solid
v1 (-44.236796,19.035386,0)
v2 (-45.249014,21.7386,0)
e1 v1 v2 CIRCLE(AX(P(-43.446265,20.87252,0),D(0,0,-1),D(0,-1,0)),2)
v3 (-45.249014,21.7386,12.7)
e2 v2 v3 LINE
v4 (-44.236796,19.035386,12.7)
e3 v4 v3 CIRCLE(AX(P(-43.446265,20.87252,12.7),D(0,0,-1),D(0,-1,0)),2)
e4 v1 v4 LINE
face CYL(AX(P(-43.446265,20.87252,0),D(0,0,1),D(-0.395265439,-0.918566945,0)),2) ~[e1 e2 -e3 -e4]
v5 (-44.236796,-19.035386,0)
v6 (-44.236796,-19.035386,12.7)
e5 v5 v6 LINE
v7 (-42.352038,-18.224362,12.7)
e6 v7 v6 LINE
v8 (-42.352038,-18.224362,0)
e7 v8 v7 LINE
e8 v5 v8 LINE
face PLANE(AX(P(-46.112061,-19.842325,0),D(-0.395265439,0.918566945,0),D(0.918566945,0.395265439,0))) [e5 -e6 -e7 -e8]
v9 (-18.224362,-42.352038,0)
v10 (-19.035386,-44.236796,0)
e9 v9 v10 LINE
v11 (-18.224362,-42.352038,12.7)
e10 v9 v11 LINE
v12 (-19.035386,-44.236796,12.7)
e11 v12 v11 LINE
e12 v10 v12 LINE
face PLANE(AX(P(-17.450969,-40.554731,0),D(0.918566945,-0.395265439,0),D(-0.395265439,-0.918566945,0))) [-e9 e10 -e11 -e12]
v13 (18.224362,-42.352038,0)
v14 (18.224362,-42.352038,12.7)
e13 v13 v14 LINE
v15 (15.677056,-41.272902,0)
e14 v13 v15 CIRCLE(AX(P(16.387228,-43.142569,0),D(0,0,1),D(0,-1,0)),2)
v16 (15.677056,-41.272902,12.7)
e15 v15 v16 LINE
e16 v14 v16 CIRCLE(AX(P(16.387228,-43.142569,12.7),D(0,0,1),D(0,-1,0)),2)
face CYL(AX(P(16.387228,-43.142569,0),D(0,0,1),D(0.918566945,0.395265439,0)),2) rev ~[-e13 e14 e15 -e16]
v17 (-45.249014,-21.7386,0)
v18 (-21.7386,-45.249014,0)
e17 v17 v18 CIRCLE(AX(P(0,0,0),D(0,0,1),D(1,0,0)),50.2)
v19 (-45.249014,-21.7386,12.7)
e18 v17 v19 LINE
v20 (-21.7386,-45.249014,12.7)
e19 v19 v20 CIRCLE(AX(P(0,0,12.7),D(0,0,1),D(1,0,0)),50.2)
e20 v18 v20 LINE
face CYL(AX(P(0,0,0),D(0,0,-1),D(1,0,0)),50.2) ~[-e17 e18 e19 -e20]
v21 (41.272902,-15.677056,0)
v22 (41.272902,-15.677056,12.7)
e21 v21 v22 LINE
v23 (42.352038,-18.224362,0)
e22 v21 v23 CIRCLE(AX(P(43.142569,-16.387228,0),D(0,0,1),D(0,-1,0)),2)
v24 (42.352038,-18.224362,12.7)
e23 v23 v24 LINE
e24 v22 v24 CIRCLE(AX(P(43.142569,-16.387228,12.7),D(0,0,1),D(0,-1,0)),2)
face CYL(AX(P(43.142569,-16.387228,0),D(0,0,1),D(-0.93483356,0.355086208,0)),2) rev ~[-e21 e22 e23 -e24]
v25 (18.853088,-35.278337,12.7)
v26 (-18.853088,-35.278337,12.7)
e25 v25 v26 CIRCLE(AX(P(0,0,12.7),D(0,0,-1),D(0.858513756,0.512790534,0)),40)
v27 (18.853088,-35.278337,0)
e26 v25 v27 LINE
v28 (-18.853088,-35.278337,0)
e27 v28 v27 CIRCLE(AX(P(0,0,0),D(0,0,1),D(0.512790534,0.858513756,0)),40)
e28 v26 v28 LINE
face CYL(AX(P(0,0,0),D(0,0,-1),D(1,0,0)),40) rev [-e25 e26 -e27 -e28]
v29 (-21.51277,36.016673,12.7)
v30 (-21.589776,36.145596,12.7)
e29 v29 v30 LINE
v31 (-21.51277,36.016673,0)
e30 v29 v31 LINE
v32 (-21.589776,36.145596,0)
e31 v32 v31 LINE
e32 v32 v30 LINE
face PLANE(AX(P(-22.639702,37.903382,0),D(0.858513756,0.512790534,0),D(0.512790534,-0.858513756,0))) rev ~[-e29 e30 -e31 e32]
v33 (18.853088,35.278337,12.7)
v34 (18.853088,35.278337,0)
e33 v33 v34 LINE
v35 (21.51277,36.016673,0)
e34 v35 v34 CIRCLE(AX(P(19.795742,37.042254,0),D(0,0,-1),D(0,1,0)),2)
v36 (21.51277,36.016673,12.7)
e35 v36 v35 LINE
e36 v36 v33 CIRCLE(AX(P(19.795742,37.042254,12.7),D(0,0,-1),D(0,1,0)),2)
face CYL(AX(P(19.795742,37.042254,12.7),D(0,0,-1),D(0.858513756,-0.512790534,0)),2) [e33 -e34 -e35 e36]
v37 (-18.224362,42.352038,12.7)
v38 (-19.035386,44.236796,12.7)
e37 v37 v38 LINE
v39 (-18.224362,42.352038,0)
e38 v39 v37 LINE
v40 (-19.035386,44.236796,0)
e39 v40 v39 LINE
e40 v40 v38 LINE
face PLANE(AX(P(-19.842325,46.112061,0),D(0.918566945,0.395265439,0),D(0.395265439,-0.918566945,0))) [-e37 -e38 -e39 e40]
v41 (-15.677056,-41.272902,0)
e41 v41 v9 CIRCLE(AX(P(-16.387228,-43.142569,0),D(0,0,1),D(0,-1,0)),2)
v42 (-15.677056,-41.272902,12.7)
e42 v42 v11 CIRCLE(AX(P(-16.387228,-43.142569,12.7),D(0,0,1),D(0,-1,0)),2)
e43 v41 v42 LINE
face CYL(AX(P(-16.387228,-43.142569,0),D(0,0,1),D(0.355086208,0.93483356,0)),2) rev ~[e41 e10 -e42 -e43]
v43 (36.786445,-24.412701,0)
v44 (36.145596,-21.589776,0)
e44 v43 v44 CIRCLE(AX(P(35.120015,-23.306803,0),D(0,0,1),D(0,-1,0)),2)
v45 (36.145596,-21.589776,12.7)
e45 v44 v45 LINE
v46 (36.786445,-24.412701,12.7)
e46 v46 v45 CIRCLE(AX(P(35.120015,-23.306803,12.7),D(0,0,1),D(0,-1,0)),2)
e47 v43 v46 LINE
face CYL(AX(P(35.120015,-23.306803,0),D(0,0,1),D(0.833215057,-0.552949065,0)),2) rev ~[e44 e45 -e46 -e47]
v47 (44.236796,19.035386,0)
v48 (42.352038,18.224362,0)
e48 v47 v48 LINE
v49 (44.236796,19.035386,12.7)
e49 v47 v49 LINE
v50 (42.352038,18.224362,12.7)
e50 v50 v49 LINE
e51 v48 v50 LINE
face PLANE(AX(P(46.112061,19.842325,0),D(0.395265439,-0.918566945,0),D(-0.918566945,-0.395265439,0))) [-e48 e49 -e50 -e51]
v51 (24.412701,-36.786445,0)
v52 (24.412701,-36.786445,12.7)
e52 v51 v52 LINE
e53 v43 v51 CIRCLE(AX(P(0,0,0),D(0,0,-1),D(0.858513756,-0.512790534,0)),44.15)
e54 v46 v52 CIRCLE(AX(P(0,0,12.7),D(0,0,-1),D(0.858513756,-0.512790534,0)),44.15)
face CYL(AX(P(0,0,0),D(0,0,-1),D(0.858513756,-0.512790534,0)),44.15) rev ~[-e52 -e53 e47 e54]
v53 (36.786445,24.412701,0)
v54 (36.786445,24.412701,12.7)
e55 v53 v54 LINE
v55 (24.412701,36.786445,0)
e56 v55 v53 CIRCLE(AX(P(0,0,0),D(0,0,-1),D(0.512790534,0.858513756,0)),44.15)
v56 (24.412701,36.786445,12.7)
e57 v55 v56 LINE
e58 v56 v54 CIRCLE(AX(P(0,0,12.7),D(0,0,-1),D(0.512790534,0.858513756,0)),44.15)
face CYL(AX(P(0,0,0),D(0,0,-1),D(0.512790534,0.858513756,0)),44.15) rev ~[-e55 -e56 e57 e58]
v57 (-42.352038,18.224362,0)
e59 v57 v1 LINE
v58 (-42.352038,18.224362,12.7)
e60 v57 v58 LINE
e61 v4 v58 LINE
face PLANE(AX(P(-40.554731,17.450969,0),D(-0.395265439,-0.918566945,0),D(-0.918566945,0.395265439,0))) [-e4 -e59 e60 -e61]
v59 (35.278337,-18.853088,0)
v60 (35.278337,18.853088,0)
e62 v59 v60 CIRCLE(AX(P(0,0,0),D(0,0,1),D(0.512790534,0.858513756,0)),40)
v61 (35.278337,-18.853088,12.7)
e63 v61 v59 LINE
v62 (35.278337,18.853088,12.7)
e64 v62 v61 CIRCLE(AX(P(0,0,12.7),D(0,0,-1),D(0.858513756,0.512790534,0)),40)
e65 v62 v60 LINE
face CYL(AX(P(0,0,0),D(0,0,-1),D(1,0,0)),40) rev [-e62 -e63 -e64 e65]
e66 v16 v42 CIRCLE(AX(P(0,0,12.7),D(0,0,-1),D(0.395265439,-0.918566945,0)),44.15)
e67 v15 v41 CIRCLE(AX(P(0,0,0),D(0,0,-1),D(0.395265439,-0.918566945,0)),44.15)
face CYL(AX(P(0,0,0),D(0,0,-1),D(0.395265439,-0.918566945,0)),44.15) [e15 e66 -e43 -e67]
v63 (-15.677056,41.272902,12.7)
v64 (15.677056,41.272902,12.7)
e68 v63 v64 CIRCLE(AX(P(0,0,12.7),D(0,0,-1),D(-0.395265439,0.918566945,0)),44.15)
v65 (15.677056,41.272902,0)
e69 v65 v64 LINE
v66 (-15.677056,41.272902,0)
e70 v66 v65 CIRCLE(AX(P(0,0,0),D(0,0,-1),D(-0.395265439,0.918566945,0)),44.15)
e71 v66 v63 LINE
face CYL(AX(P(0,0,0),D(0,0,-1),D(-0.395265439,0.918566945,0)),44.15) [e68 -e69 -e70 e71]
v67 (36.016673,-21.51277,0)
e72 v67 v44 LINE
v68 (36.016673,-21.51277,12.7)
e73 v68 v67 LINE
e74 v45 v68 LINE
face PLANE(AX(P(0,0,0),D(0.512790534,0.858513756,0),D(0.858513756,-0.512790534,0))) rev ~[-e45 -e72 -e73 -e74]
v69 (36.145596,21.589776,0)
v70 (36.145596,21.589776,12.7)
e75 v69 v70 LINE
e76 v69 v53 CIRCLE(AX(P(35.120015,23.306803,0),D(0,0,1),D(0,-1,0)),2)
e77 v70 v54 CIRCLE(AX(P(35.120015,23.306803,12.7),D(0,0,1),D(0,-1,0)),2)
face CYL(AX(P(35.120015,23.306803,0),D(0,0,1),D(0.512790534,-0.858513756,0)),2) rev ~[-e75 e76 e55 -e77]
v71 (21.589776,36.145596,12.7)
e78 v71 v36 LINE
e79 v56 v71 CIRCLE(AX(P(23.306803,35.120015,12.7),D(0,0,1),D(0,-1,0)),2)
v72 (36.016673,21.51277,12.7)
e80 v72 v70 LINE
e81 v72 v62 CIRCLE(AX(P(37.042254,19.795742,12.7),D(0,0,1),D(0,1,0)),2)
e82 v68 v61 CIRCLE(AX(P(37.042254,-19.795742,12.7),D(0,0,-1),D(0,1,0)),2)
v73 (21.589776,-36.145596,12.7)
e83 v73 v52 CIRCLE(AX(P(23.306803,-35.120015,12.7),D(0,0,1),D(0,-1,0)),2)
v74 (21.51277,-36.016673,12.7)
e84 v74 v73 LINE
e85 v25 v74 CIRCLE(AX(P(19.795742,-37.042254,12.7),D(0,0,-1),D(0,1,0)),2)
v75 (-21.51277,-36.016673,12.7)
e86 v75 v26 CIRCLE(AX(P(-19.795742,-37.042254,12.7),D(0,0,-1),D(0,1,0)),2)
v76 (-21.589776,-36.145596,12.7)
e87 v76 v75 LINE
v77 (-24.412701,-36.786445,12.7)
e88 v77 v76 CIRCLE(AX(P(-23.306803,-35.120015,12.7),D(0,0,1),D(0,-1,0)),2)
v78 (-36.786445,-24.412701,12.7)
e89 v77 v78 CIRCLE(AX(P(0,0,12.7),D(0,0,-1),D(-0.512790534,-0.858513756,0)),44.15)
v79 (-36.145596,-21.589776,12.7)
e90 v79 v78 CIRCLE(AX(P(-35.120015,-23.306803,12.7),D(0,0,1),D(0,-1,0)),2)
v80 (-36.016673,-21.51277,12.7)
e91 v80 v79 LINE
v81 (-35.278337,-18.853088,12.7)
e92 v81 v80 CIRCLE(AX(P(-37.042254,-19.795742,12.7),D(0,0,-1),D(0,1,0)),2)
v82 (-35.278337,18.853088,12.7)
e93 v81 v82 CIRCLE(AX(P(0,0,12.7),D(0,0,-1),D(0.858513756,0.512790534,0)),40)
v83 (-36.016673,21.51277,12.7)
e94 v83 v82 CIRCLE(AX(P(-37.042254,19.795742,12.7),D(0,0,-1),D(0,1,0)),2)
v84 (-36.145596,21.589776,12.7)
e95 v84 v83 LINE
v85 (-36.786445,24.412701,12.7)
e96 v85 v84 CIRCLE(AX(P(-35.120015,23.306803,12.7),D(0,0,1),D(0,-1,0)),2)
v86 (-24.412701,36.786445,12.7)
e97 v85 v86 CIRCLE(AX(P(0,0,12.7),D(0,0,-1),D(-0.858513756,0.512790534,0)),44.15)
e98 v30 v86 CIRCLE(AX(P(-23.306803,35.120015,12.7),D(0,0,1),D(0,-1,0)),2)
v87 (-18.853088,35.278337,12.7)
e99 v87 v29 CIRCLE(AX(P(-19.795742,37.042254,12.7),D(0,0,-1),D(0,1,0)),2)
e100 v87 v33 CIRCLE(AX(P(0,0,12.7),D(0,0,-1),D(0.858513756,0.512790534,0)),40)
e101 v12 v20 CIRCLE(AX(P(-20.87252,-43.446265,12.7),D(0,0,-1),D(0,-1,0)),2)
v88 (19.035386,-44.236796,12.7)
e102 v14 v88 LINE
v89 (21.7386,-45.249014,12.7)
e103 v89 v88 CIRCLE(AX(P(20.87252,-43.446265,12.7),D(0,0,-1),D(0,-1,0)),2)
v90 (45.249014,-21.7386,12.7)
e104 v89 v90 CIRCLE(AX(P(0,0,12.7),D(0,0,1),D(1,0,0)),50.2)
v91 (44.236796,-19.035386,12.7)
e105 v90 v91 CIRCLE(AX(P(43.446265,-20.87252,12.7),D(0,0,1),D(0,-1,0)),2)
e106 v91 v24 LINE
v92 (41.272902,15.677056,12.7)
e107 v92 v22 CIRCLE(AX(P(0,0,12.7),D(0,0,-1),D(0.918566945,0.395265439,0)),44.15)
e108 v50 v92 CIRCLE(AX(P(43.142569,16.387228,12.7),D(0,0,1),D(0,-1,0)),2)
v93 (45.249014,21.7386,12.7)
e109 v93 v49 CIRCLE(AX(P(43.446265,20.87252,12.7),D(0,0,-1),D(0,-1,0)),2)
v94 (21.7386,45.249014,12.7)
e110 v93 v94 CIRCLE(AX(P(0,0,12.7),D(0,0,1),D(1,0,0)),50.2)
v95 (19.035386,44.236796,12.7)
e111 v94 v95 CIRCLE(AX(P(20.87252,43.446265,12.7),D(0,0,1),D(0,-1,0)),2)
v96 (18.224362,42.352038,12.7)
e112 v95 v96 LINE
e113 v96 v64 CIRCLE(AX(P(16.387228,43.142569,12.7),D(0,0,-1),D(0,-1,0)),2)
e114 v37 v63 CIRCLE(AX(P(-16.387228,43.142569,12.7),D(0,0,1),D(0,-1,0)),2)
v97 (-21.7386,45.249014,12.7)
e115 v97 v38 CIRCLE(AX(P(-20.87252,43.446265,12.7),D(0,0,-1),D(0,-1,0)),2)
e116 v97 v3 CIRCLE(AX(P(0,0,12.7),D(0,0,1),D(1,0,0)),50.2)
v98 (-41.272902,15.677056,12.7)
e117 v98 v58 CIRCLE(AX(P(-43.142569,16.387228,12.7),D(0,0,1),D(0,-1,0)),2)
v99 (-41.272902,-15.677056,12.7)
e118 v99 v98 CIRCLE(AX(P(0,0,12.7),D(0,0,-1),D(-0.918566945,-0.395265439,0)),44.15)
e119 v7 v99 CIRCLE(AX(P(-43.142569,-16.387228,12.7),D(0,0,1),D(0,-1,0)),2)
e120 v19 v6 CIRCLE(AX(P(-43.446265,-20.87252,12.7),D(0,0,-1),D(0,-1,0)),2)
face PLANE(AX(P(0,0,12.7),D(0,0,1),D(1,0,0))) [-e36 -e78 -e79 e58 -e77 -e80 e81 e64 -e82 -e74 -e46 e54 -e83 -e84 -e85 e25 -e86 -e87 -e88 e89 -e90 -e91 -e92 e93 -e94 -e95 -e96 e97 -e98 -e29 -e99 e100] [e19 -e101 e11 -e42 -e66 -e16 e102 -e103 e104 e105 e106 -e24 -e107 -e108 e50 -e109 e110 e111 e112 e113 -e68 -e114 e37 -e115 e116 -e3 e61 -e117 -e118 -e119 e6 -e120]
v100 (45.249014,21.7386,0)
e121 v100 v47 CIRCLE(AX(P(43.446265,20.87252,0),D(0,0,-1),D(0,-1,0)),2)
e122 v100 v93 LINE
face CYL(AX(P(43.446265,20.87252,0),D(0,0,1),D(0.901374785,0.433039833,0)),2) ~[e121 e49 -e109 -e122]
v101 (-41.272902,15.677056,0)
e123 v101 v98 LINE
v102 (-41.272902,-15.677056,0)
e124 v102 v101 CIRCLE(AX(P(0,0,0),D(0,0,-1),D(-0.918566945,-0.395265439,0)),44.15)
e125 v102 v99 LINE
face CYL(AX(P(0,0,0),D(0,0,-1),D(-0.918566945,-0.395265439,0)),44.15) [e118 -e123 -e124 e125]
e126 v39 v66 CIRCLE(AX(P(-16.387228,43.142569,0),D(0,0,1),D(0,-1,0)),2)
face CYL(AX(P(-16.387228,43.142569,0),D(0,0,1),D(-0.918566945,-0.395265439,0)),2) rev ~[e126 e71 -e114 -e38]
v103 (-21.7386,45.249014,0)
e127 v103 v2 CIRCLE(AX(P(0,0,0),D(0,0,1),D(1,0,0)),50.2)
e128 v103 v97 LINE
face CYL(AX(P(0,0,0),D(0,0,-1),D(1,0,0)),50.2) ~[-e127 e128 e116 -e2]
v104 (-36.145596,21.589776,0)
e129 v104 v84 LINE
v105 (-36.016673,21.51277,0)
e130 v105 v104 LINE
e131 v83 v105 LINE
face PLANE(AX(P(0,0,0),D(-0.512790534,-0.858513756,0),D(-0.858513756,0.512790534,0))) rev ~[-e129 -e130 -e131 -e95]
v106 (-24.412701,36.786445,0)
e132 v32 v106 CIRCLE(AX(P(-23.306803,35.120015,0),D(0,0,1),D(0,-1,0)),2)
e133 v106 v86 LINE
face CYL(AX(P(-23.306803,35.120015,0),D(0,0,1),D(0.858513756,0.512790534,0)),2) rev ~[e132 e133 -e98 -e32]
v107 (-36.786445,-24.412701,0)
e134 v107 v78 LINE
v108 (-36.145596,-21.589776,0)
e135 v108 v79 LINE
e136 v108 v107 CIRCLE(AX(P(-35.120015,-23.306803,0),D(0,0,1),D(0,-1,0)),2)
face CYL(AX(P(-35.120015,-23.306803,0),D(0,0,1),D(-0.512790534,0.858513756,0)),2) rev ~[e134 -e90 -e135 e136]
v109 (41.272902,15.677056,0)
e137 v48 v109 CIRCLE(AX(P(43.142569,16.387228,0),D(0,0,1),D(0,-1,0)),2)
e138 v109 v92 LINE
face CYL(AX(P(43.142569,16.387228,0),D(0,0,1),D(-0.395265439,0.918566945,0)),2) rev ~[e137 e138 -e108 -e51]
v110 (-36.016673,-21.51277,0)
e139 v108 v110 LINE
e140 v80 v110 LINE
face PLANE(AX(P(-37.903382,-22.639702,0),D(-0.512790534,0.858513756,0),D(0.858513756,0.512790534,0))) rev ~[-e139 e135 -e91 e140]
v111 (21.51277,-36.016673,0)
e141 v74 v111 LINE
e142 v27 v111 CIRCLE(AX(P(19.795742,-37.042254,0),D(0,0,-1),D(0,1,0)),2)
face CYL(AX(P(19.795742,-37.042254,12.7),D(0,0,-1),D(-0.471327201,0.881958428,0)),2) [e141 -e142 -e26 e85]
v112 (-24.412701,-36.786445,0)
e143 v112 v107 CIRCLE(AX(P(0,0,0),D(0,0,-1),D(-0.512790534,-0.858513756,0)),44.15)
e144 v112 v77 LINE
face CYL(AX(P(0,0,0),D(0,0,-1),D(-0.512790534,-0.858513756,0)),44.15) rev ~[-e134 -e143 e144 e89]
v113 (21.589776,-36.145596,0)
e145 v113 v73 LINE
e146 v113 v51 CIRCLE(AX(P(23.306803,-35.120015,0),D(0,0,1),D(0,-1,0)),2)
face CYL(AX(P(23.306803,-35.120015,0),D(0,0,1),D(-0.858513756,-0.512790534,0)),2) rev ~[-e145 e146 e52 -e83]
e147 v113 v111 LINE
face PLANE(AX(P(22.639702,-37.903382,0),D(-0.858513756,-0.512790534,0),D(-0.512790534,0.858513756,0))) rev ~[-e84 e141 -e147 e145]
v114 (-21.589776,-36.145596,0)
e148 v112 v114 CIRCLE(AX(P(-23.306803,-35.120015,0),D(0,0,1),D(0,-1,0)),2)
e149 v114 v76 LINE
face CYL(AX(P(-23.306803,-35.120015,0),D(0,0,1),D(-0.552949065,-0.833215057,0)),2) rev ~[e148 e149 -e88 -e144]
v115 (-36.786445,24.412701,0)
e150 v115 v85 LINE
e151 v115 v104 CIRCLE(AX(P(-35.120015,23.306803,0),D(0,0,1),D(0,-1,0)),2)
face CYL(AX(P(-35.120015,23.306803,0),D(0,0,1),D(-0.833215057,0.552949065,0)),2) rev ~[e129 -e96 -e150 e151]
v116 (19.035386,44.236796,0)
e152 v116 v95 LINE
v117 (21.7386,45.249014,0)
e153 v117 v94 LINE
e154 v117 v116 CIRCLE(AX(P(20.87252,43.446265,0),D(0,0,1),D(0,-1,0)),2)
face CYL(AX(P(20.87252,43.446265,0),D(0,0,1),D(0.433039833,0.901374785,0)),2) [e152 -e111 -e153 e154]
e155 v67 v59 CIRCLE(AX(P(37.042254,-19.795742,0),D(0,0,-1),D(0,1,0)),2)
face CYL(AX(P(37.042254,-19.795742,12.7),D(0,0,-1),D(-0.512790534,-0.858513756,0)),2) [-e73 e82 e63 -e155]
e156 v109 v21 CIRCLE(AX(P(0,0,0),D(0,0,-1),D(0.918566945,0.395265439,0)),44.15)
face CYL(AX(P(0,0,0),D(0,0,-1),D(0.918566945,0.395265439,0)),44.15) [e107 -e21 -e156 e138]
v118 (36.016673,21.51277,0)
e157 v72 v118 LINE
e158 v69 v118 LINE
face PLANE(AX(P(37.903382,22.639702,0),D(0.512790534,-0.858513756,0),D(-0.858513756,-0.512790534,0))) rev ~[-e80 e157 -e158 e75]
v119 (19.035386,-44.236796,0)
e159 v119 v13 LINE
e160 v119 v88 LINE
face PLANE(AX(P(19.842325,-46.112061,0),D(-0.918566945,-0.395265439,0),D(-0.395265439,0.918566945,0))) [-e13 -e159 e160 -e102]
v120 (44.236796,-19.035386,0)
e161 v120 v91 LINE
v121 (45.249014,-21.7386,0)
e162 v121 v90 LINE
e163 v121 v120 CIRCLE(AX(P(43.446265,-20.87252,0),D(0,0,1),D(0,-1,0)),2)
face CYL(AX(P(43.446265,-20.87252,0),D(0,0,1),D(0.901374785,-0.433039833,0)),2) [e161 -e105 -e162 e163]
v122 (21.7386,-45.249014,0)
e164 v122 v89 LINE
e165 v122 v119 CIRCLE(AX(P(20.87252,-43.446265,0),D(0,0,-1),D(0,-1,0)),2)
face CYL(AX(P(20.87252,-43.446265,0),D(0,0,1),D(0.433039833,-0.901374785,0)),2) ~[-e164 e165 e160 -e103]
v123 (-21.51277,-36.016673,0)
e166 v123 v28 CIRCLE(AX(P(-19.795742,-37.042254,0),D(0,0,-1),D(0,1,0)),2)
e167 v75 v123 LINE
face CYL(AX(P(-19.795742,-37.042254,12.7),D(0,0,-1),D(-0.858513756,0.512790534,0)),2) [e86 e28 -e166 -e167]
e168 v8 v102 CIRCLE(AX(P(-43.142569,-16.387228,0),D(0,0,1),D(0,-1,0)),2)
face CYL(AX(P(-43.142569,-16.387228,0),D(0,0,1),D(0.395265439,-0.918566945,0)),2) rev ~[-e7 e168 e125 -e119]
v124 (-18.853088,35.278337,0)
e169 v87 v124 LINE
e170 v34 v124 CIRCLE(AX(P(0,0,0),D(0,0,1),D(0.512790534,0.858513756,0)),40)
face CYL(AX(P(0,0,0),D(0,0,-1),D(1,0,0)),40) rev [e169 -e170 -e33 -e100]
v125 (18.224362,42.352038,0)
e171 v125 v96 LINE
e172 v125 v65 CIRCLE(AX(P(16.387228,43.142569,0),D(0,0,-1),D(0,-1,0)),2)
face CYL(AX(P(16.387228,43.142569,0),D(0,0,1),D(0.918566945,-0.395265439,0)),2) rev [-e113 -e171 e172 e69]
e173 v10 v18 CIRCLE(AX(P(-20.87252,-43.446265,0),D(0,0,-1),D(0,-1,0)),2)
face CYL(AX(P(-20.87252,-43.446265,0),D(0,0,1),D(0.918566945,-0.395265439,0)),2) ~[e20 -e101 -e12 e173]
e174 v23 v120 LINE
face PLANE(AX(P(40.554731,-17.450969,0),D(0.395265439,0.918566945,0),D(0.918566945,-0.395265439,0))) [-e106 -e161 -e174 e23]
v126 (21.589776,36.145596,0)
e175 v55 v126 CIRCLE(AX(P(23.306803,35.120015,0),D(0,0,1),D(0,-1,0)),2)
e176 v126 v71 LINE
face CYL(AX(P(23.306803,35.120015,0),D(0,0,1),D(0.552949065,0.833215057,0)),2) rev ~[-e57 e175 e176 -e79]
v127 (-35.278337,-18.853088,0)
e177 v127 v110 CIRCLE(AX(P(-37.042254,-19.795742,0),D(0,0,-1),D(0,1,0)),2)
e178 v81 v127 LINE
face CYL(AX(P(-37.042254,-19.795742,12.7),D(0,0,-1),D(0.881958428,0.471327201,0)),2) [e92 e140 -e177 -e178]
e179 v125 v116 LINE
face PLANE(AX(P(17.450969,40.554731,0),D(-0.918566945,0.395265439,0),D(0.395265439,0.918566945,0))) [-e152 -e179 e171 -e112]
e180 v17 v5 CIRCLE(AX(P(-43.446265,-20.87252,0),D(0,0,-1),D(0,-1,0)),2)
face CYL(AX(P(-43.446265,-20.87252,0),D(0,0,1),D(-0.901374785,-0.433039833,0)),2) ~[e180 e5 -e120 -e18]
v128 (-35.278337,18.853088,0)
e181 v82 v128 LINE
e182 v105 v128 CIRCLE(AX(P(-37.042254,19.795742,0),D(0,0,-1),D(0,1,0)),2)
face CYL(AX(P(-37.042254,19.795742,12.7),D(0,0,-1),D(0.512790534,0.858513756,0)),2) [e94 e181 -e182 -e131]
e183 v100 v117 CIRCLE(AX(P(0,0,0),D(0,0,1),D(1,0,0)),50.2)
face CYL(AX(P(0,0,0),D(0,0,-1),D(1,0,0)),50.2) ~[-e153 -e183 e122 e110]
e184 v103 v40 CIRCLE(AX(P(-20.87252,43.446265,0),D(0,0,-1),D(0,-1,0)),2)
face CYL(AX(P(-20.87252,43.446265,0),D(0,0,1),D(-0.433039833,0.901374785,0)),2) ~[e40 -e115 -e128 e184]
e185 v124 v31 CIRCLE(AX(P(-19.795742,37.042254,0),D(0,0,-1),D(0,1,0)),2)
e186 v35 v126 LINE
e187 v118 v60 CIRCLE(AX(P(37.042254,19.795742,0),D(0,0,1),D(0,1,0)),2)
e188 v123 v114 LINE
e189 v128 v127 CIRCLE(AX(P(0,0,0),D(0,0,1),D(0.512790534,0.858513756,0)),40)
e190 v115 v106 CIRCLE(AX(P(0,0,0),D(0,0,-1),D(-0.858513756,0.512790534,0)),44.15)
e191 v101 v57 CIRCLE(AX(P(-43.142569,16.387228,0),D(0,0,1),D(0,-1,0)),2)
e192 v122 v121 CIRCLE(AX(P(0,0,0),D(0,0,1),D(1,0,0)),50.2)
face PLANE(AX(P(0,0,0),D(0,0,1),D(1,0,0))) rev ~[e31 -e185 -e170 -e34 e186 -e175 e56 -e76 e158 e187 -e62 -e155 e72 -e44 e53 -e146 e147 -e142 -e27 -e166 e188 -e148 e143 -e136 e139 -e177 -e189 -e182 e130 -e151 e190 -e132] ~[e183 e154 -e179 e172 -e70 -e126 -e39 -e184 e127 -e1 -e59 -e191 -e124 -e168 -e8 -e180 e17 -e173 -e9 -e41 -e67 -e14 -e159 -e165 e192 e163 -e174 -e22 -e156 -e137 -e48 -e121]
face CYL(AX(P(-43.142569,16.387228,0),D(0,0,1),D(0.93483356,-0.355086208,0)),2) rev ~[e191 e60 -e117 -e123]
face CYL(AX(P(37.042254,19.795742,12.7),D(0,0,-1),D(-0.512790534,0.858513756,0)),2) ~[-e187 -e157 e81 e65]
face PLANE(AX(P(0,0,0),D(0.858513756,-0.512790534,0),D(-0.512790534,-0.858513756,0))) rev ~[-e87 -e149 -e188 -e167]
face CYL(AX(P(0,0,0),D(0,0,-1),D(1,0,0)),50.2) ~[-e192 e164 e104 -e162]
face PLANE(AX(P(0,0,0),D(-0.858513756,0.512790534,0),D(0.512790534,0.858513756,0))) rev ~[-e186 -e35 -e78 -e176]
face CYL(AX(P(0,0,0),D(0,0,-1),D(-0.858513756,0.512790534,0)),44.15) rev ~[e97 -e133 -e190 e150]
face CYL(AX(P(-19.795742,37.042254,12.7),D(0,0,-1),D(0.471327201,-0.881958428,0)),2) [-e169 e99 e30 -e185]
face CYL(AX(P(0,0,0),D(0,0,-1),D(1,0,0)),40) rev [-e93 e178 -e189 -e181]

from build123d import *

# Parameters (mm, degrees)
SKETCH1_R                = 50.2
SKETCH1_R_2              = 40
BOSS_EXTRUDE1_DEPTH      = 12.7
CUT_EXTRUDE1_DEPTH       = 13.7
FILLET1_R                = 2
CIRPATTERN1_COUNT        = 4
FILLET1_OF_CIRPATTERN1_R = 2


with BuildPart() as part:
    # Sketch1 → Boss-Extrude1 (new body)
    with BuildSketch(Plane.XY):
        Circle(SKETCH1_R)
        Circle(SKETCH1_R_2, mode=Mode.SUBTRACT)
    extrude(amount=BOSS_EXTRUDE1_DEPTH)

    # Sketch2 → Cut-Extrude1 (cut, through all)
    with BuildSketch(Plane(origin=(0, 0, 0), x_dir=(-1, 0, 0), z_dir=(0, 0, -1))):
        with BuildLine():
            Line((-37.903382312, 22.639702058), (0, 0))
            Line((0, 0), (-22.639702058, 37.903382312))
            ThreePointArc((-22.639702058, 37.903382312), (-31.218764389, 31.218764389), (-37.903382312, 22.639702058))
        make_face()
        with BuildLine():
            Line((-46.112060645, 19.842325042), (-40.554730627, 17.450969136))
            ThreePointArc((-40.554730627, 17.450969136), (-44.15, 0), (-40.554730627, -17.450969136))
            Line((-40.554730627, -17.450969136), (-46.112060645, -19.842325042))
            ThreePointArc((-46.112060645, -19.842325042), (-50.2, 0), (-46.112060645, 19.842325042))
        make_face()
    cut_extrude1 = extrude(amount=-CUT_EXTRUDE1_DEPTH, mode=Mode.SUBTRACT)

    # Fillet1
    fillet1_edges = [part.edges().sort_by_distance(p)[0] for p in [
        (34.340550226, 20.511621344, 6.35),
        (20.511621344, 34.340550226, 6.35),
        (22.639702058, 37.903382312, 6.35),
        (37.903382312, 22.639702058, 6.35),
        (40.554730627, 17.450969136, 6.35),
        (40.554730627, -17.450969136, 6.35),
        (46.112060645, -19.842325042, 6.35),
        (46.112060645, 19.842325042, 6.35),
    ]]
    fillet(fillet1_edges, radius=FILLET1_R)

    # CirPattern1: Cut-Extrude1 ×4 about axis
    cirpattern1_axis = Axis((0, 0, 0), (0, 0, 1))
    for i in range(1, CIRPATTERN1_COUNT):
        add(cut_extrude1.rotate(cirpattern1_axis, i * 360 / CIRPATTERN1_COUNT), mode=Mode.SUBTRACT)

    # Fillet1 of CirPattern1
    fillet1_of_cirpattern1_edges = [part.edges().sort_by_distance(p)[0] for p in [
        (-20.511621344, 34.340550226, 6.35),
        (-34.340550226, 20.511621344, 6.35),
        (-37.903382312, 22.639702058, 6.35),
        (-22.639702058, 37.903382312, 6.35),
        (-17.450969136, 40.554730627, 6.35),
        (17.450969136, 40.554730627, 6.35),
        (19.842325042, 46.112060645, 6.35),
        (-19.842325042, 46.112060645, 6.35),
        (-34.340550226, -20.511621344, 6.35),
        (-20.511621344, -34.340550226, 6.35),
        (-22.639702058, -37.903382312, 6.35),
        (-37.903382312, -22.639702058, 6.35),
        (-40.554730627, -17.450969136, 6.35),
        (-40.554730627, 17.450969136, 6.35),
        (-46.112060645, 19.842325042, 6.35),
        (-46.112060645, -19.842325042, 6.35),
        (20.511621344, -34.340550226, 6.35),
        (34.340550226, -20.511621344, 6.35),
        (37.903382312, -22.639702058, 6.35),
        (22.639702058, -37.903382312, 6.35),
        (17.450969136, -40.554730627, 6.35),
        (-17.450969136, -40.554730627, 6.35),
        (-19.842325042, -46.112060645, 6.35),
        (19.842325042, -46.112060645, 6.35),
    ]]
    fillet(fillet1_of_cirpattern1_edges, radius=FILLET1_OF_CIRPATTERN1_R)


solid = part.part
